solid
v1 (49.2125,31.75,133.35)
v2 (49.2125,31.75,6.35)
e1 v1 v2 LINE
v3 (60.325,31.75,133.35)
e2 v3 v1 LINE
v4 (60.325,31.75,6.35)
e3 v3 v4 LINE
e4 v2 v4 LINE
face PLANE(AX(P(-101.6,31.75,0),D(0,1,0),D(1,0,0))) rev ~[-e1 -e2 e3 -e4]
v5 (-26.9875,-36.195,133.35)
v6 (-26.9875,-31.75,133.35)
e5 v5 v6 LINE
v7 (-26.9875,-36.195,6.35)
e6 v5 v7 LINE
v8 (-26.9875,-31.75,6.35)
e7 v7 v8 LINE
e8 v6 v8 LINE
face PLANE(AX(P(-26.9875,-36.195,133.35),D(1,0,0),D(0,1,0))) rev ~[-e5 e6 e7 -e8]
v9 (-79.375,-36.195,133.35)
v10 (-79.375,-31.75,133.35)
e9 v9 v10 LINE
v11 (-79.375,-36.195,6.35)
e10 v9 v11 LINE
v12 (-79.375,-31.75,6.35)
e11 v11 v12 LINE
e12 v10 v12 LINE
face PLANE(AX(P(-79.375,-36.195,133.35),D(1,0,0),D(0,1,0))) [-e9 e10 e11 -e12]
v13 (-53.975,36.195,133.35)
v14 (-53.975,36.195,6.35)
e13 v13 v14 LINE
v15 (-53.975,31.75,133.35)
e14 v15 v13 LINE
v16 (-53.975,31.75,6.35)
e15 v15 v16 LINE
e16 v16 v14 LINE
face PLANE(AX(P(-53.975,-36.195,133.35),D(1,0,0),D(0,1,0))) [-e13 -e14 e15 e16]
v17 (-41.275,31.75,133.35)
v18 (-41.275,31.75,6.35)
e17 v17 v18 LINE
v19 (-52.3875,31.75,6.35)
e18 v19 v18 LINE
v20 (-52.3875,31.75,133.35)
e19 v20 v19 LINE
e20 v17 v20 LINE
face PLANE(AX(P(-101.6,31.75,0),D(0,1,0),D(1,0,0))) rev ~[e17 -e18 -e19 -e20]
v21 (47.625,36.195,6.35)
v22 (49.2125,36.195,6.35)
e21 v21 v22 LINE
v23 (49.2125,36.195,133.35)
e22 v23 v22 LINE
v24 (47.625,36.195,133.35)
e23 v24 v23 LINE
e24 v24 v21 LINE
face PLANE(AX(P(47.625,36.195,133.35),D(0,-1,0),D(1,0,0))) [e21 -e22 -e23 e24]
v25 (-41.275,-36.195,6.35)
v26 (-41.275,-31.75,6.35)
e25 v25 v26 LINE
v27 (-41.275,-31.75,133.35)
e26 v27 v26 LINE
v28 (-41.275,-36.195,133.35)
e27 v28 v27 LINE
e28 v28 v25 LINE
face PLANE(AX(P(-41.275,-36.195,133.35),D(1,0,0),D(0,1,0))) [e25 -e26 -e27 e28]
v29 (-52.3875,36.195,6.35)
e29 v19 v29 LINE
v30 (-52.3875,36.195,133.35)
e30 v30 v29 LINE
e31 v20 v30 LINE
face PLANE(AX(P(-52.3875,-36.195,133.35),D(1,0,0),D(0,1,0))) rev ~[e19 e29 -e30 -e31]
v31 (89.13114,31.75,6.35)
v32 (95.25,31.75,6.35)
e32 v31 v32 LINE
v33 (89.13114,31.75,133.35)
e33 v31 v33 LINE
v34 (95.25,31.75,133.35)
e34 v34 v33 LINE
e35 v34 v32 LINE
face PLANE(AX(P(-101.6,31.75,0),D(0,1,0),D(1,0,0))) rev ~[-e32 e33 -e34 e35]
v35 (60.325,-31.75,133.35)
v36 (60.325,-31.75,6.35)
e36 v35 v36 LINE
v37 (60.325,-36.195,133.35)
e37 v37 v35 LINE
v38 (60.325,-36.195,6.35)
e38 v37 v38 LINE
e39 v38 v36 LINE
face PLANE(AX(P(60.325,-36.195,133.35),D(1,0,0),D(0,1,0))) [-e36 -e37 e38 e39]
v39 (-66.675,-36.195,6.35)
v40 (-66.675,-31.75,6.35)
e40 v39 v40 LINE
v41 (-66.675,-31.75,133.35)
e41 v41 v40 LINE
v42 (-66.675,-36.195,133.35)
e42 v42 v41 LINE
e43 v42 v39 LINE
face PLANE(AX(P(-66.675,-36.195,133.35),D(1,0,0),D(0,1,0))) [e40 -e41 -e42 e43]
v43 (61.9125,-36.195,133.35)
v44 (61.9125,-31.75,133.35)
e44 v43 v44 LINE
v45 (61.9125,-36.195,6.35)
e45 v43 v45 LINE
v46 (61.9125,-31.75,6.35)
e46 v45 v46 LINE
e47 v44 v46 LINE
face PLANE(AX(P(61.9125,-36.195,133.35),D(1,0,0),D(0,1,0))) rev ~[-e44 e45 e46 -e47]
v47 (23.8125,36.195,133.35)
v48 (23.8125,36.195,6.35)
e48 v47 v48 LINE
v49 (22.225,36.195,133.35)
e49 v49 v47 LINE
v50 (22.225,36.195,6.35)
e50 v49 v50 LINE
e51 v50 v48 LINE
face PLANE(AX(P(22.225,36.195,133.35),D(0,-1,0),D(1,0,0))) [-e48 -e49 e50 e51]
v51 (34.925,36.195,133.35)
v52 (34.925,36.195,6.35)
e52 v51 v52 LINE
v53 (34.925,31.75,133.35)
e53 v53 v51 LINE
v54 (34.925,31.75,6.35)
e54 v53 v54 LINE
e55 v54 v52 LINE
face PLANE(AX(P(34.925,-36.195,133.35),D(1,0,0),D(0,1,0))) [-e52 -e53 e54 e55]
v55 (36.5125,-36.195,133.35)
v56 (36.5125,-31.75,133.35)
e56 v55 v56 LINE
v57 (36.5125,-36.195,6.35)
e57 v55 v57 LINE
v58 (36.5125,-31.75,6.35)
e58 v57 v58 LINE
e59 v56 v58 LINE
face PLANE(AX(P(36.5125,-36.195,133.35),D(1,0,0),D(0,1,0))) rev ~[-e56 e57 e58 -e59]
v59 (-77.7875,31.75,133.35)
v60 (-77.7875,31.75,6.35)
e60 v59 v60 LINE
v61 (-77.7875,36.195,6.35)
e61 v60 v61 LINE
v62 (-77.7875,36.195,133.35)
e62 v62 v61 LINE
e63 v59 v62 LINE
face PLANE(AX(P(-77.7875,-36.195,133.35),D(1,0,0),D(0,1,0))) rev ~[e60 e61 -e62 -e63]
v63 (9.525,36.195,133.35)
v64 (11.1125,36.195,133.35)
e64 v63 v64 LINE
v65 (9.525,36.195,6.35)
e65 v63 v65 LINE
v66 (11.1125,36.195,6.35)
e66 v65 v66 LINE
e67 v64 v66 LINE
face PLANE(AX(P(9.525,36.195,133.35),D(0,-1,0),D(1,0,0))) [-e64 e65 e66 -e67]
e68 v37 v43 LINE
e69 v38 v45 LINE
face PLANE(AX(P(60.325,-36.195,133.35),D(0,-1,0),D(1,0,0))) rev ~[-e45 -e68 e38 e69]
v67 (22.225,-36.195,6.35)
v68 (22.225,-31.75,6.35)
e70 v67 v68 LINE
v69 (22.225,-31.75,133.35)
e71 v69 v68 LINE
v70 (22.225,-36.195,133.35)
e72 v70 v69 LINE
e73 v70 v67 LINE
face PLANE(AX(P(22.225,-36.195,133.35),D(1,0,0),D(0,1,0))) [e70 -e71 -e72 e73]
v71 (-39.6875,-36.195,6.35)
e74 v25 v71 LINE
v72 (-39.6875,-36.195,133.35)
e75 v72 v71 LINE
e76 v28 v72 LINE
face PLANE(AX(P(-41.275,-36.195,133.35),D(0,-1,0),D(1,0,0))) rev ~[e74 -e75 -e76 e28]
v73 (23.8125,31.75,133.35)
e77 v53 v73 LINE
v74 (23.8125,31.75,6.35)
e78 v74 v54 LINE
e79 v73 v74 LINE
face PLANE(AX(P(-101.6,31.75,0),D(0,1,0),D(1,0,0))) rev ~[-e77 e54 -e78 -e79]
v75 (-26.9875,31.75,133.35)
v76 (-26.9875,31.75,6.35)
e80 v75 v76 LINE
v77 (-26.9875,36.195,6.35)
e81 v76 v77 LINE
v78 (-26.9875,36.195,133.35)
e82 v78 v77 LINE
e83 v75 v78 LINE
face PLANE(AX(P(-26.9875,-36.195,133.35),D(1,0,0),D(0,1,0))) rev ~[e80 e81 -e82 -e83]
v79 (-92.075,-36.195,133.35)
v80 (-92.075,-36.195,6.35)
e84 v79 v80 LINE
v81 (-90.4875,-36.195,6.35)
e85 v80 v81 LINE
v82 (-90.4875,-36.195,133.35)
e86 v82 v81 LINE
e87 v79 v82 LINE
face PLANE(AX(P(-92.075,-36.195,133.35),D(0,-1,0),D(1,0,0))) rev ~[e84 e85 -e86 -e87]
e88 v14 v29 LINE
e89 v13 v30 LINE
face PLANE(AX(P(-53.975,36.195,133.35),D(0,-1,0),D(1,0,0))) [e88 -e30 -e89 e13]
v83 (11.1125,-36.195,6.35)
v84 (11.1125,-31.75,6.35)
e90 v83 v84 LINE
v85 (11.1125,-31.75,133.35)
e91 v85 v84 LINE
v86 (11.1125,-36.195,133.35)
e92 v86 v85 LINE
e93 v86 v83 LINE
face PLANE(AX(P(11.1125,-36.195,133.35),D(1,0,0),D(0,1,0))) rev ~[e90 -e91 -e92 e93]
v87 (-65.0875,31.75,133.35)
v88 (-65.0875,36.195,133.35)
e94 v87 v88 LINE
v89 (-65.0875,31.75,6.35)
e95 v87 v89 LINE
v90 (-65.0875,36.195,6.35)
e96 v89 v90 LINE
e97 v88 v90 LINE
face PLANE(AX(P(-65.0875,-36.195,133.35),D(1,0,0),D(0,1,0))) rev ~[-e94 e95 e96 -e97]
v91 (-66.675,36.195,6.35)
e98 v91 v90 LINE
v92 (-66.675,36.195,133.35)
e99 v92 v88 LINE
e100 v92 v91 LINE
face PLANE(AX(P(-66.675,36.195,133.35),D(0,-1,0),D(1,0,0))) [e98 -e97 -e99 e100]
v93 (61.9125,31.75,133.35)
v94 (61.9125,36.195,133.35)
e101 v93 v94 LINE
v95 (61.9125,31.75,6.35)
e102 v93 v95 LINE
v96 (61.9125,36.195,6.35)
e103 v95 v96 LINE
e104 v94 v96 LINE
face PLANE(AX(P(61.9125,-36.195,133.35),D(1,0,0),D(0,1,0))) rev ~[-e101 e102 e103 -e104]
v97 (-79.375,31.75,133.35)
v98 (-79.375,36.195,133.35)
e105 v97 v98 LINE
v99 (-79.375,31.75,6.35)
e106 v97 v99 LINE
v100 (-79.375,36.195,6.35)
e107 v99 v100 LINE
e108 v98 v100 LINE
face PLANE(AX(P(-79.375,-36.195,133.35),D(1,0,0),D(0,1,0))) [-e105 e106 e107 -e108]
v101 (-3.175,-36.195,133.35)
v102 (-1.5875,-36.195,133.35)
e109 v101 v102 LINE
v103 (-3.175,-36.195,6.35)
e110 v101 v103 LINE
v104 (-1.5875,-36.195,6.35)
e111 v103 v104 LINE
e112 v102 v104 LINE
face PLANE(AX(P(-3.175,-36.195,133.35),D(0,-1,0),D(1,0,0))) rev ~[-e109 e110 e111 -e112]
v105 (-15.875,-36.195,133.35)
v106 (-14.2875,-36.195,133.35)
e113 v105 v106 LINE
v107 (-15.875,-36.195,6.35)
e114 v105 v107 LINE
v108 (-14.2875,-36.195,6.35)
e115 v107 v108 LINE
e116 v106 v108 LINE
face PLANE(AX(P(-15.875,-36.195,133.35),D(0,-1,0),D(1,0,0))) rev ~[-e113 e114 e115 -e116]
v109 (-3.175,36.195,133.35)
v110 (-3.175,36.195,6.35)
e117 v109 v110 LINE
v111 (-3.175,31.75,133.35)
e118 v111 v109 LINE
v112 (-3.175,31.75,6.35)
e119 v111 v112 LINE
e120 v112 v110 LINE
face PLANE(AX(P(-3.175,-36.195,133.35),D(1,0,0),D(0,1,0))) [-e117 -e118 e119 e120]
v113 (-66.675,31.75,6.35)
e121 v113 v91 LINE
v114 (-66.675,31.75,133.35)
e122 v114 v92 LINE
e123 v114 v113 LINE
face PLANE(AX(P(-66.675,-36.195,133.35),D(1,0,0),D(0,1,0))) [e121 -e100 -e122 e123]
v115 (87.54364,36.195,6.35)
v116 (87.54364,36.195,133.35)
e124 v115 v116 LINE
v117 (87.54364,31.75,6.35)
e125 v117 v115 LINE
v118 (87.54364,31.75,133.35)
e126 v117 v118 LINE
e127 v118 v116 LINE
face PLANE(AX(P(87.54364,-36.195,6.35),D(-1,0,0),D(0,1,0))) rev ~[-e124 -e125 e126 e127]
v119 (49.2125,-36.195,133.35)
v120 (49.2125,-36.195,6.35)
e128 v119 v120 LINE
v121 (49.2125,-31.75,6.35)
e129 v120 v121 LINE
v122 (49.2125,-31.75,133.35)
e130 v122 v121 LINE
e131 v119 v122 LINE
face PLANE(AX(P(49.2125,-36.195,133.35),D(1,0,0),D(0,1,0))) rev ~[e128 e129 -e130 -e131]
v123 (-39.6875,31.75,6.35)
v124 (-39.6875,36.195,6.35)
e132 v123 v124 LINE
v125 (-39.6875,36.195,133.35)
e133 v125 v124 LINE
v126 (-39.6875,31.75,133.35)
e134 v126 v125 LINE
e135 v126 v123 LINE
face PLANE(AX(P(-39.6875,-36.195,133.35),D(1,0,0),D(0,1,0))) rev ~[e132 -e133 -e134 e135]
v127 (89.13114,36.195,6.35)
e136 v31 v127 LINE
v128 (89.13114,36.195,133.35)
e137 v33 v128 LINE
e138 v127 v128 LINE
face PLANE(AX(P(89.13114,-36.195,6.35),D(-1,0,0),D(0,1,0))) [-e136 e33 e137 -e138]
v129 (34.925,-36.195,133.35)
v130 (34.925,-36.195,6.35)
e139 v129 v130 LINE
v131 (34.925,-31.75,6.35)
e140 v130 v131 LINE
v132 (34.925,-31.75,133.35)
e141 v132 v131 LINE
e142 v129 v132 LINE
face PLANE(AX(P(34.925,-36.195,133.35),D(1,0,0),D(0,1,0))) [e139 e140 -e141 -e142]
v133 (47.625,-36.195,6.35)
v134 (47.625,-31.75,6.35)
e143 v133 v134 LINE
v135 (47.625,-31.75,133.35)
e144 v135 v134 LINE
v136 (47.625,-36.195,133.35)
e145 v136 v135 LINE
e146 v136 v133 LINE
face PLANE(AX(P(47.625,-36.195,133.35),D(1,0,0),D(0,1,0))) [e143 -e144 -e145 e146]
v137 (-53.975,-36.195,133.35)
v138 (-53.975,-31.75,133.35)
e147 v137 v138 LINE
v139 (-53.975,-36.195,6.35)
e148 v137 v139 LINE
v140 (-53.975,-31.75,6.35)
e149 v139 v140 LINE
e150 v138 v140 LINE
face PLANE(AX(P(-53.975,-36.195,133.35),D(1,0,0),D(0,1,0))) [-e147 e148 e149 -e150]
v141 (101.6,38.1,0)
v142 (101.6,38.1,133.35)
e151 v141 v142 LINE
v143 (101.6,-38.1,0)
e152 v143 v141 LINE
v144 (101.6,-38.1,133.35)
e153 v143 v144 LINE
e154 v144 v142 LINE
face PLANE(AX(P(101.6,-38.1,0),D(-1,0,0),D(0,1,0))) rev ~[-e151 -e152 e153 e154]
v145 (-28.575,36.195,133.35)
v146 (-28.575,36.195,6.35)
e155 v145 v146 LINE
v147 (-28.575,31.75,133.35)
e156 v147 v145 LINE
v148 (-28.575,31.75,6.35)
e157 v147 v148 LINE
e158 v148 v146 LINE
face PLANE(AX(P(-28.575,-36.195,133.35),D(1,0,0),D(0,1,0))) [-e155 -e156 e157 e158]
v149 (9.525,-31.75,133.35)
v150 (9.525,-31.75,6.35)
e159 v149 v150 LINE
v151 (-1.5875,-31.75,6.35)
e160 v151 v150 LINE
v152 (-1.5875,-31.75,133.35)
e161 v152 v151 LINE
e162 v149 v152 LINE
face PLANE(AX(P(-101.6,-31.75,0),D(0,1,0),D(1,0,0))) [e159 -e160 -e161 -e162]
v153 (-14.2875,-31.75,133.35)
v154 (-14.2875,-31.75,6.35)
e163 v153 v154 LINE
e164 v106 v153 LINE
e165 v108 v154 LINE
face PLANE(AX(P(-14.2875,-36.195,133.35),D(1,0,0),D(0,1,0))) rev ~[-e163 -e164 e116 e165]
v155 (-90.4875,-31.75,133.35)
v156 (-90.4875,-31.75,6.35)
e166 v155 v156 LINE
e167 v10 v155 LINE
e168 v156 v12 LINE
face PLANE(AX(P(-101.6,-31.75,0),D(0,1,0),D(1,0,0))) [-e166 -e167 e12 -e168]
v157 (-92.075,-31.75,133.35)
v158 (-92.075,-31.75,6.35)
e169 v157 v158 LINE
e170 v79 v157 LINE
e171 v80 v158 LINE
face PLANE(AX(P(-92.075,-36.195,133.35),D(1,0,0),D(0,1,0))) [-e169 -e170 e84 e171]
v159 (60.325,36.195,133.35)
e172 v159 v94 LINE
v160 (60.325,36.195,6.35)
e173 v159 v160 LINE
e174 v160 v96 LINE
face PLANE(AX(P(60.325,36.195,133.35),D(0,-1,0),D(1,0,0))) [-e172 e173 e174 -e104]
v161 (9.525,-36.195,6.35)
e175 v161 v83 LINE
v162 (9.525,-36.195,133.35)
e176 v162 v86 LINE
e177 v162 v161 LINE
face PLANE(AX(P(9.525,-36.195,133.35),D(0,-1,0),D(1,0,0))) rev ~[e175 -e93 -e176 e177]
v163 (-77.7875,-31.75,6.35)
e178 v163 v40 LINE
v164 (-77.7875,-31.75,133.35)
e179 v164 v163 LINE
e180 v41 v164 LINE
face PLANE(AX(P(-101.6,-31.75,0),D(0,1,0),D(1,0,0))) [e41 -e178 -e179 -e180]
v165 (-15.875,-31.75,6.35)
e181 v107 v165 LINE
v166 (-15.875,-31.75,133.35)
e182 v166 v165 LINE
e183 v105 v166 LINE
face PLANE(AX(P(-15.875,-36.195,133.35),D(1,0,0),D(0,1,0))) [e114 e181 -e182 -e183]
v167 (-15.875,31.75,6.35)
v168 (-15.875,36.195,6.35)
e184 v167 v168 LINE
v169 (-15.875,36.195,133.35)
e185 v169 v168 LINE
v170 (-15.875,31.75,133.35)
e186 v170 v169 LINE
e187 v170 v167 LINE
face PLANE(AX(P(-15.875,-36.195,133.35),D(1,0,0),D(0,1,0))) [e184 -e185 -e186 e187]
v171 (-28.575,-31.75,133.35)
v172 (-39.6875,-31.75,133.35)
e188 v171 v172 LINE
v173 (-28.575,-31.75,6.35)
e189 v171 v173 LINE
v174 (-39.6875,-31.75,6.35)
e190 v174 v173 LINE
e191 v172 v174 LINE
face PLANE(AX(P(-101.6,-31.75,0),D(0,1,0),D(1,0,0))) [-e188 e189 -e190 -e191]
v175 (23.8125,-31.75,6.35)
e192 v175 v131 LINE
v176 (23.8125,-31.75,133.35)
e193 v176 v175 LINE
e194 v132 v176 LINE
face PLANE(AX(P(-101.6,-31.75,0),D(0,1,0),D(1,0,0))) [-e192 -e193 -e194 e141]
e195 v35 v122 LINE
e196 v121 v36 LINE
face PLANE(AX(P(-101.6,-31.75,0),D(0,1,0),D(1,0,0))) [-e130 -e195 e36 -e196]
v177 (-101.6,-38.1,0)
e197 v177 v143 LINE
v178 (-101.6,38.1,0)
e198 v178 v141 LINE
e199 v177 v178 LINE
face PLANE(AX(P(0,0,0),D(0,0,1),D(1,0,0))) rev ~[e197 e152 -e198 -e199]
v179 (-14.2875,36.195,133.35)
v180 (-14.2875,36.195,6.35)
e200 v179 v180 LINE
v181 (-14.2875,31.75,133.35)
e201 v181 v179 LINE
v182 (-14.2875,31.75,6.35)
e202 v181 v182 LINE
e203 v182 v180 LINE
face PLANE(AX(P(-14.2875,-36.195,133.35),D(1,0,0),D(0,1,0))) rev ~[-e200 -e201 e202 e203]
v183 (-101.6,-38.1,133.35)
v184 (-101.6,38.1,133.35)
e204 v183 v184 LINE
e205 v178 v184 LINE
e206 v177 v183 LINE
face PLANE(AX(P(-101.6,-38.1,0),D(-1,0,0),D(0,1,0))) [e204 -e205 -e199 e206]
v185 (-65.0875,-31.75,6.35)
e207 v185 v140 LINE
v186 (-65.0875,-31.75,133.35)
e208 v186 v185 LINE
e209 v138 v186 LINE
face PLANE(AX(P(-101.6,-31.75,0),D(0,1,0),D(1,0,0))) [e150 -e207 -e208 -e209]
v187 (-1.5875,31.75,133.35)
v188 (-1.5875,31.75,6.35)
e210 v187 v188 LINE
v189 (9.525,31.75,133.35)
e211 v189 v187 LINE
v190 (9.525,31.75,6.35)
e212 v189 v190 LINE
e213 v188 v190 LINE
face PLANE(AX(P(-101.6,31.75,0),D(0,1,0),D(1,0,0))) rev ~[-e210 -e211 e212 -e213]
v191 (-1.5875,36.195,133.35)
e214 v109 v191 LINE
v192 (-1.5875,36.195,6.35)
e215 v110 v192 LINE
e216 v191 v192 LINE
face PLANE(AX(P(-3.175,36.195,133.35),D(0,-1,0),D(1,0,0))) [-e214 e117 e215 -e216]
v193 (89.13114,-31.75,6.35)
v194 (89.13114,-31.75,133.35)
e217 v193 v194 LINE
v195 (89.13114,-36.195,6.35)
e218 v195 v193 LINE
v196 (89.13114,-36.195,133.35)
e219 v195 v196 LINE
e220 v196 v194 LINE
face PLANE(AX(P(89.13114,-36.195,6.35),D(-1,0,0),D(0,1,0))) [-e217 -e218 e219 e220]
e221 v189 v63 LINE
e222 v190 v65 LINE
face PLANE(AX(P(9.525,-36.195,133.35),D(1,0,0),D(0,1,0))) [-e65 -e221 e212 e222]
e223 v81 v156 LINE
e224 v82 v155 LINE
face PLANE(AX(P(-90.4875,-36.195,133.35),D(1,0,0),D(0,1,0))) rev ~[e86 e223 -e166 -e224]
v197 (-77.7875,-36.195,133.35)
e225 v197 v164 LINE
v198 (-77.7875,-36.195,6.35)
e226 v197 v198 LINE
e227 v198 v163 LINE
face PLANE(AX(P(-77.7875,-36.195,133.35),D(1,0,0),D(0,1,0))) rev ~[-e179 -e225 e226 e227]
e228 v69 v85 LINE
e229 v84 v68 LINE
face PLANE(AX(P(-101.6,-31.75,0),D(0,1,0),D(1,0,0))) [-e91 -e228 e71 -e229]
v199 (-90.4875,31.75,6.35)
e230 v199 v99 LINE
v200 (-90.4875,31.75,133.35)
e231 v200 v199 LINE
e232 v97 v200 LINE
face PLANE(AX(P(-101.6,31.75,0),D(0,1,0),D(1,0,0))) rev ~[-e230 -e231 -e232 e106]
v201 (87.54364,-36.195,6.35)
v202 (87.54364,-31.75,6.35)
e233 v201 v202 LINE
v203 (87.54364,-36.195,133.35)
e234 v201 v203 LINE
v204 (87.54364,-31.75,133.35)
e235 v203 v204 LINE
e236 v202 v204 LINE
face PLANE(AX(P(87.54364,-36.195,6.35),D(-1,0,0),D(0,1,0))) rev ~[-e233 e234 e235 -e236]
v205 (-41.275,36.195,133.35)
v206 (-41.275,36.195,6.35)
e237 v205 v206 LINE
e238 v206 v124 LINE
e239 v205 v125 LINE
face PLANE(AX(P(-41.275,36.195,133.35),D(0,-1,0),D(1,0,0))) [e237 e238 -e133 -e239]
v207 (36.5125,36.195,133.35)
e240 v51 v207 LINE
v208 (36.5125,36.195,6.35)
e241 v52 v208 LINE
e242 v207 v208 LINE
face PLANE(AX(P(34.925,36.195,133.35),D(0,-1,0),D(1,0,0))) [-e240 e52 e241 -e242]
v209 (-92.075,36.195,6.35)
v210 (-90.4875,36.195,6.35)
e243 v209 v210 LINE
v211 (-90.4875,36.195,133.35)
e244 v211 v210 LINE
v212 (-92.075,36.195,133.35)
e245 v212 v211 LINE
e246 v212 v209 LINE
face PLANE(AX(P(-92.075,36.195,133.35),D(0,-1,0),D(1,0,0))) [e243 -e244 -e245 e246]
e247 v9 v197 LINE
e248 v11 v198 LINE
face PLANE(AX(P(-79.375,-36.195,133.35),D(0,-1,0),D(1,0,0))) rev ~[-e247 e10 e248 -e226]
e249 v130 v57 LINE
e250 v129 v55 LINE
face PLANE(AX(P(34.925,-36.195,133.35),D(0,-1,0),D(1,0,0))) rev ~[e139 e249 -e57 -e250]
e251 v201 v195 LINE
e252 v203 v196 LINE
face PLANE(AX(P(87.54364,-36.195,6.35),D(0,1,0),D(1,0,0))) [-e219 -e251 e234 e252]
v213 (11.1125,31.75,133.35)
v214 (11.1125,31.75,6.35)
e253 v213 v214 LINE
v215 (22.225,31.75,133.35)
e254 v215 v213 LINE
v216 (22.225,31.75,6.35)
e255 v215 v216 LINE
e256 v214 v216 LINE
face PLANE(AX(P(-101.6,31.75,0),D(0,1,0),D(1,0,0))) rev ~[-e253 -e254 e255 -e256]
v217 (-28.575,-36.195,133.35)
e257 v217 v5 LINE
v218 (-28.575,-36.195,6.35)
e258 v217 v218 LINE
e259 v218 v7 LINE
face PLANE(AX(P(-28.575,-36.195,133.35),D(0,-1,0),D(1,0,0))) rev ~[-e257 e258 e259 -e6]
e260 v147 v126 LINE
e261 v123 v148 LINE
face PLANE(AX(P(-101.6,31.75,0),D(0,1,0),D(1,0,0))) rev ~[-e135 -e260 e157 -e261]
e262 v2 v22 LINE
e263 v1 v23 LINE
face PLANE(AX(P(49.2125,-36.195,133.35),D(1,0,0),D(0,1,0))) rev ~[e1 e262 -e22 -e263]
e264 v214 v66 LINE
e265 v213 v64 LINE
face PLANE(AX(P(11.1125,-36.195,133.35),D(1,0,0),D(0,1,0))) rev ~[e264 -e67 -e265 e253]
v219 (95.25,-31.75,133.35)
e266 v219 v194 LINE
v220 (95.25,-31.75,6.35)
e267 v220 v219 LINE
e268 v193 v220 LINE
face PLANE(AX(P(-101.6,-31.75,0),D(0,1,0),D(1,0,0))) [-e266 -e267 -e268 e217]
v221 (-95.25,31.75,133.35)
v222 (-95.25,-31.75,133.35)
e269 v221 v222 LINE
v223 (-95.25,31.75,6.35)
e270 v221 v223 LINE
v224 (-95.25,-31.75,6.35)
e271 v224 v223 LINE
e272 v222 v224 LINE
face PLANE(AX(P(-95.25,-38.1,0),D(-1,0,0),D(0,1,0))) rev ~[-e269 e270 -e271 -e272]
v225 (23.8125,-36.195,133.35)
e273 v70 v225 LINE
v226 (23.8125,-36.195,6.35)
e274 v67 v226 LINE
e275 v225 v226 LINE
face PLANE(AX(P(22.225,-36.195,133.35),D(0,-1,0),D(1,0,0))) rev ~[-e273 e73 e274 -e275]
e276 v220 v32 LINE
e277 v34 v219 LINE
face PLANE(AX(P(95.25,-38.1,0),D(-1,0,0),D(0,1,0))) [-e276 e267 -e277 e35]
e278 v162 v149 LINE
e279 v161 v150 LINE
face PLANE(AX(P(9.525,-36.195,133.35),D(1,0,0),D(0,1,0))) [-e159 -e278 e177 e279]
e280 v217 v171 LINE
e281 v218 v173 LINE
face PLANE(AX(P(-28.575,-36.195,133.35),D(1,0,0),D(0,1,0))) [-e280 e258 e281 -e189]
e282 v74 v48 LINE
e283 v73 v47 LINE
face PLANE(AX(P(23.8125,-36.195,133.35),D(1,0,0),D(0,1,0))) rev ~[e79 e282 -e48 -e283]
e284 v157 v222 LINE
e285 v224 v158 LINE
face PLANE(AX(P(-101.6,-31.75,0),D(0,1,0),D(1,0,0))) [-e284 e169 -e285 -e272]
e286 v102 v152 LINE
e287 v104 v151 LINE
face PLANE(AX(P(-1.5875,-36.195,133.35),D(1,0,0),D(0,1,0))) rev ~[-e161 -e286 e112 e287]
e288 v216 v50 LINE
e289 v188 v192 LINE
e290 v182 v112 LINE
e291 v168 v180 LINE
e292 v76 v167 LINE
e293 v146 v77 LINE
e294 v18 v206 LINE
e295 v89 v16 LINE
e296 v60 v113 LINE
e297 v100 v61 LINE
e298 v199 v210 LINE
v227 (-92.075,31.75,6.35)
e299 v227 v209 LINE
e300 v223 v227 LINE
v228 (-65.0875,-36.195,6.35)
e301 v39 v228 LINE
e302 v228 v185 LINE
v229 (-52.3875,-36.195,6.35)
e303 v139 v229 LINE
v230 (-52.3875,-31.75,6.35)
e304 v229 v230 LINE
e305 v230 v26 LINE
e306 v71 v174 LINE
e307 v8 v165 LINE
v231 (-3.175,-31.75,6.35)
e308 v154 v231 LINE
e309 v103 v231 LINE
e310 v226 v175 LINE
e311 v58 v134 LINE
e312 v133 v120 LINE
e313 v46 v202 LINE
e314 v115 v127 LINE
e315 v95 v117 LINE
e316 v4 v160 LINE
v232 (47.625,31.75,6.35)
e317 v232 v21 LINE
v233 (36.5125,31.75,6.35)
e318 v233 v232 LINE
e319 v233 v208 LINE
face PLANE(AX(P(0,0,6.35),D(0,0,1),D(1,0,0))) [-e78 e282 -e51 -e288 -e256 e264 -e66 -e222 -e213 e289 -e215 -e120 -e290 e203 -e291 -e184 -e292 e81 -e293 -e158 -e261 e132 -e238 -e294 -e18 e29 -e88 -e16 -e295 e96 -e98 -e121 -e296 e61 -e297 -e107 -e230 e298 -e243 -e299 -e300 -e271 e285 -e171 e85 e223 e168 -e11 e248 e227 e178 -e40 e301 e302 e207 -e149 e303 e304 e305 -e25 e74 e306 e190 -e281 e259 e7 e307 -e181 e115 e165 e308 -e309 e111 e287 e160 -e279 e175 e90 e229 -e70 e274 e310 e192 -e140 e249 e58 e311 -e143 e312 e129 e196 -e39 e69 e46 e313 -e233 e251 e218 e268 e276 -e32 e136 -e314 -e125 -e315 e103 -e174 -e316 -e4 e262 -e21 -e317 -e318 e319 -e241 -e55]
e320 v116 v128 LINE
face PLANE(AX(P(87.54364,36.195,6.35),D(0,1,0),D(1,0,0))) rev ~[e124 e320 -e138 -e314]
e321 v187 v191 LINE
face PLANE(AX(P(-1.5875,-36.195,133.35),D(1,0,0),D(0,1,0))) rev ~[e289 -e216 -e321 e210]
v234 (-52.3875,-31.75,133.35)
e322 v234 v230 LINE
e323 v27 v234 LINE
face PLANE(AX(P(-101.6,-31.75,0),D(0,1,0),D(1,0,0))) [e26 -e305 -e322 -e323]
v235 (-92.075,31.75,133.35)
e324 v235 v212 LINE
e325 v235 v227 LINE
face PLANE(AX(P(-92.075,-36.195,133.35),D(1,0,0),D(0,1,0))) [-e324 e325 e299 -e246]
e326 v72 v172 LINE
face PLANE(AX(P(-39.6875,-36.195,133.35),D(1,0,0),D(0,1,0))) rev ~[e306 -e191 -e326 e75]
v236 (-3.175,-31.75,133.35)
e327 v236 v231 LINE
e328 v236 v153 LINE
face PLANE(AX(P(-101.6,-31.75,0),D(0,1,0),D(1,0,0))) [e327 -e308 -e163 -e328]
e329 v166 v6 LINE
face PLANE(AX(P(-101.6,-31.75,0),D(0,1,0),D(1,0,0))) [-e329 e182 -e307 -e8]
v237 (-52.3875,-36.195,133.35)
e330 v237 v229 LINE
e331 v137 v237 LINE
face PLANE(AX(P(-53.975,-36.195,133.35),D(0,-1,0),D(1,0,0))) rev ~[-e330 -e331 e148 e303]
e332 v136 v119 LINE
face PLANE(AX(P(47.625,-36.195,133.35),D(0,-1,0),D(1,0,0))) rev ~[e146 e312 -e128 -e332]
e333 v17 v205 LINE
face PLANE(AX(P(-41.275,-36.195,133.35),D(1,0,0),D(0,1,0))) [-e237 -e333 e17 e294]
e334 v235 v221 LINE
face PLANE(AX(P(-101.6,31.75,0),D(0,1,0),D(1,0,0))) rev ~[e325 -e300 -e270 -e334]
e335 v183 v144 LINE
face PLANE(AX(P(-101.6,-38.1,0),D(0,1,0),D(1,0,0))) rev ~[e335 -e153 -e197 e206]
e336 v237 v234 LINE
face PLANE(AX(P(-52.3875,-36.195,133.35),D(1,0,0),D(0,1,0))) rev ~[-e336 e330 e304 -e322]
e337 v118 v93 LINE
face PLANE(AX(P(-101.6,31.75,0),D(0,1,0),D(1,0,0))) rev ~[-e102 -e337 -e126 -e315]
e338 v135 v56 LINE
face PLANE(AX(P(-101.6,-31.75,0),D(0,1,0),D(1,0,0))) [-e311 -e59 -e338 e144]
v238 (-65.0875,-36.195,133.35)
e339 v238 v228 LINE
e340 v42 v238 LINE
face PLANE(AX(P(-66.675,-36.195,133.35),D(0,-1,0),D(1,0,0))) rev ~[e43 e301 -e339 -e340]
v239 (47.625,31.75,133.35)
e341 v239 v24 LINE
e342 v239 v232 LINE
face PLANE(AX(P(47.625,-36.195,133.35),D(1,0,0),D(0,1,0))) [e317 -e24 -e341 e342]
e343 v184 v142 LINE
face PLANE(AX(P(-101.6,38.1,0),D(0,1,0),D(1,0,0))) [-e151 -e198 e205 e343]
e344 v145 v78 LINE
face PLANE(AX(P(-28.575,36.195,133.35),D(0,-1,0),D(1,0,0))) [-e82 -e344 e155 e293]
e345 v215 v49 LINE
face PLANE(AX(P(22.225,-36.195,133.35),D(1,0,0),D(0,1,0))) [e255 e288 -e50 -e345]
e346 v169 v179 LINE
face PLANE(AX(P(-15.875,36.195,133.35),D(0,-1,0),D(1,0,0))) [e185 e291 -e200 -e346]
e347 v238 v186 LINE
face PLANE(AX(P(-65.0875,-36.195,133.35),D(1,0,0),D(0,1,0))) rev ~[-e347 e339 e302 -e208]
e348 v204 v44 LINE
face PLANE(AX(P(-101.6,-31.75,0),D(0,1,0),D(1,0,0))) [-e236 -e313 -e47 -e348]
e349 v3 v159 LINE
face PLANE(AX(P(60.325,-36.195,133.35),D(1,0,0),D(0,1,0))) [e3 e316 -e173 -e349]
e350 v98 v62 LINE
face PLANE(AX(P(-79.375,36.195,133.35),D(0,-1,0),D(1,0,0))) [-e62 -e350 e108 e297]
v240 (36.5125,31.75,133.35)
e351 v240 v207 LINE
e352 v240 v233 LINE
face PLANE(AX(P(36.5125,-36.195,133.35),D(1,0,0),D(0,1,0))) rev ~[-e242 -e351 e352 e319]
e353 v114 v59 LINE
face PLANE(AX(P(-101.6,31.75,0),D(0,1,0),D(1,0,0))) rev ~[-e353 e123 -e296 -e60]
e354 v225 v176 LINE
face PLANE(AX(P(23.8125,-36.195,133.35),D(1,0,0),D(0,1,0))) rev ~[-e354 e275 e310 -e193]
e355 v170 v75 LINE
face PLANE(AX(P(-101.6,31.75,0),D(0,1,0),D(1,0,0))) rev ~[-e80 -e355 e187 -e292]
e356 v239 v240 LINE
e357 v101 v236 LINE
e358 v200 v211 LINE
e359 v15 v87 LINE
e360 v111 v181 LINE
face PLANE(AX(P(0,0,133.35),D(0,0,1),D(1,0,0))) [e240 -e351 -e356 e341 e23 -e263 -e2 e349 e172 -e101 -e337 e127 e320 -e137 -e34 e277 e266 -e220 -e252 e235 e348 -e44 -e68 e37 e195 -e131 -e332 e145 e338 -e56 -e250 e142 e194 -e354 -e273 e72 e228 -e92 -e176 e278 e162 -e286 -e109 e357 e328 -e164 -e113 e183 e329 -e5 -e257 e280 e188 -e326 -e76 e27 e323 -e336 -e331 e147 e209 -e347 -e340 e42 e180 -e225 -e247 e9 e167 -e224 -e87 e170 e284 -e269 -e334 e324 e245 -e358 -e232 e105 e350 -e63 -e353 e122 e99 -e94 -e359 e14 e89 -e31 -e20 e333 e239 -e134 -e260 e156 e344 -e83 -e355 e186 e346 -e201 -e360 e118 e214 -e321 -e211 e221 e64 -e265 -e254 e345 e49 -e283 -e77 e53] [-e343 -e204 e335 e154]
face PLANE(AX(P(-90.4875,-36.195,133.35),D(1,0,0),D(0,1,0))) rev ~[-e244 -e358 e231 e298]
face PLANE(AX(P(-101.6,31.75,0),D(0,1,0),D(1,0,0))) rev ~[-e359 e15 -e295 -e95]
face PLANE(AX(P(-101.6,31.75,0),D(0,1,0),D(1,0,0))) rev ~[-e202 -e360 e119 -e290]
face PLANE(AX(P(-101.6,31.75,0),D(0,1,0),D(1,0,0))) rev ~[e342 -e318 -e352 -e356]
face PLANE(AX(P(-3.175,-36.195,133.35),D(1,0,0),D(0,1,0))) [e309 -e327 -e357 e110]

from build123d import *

# Parameters (mm, degrees)
SKETCH1_W           = 203.2
SKETCH1_H           = 76.2
BOSS_EXTRUDE1_DEPTH = 133.35
SHELL1_T            = -6.35
SKETCH2_W           = 1.5875
SKETCH2_H           = 72.39
CUT_EXTRUDE1_DEPTH  = 127
LPATTERN1_COUNT     = 13
LPATTERN1_PITCH     = 12.7
CUT_EXTRUDE2_START  = -127
SKETCH3_W           = 1.5875
SKETCH3_H           = 72.39
CUT_EXTRUDE2_DEPTH  = 127


with BuildPart() as part:
    # Sketch1 → Boss-Extrude1 (new body)
    with BuildSketch(Plane.XY):
        Rectangle(SKETCH1_W, SKETCH1_H)
    extrude(amount=BOSS_EXTRUDE1_DEPTH)

    # Shell1
    shell1_openings = [part.faces().sort_by_distance(p)[0] for p in [
        (0, 0, 133.35),
    ]]
    offset(amount=SHELL1_T, openings=shell1_openings, kind=Kind.INTERSECTION)

    # Sketch2 → Cut-Extrude1 (cut)
    with BuildSketch(Plane.XY.offset(133.35)):
        with Locations((-91.28125, 0)):
            Rectangle(SKETCH2_W, SKETCH2_H)
    cut_extrude1 = extrude(amount=-CUT_EXTRUDE1_DEPTH, mode=Mode.SUBTRACT)

    # LPattern1: Cut-Extrude1 ×13
    with Locations(*[(i * LPATTERN1_PITCH, 0, 0) for i in range(1, LPATTERN1_COUNT)]):
        add(cut_extrude1, mode=Mode.SUBTRACT)

    # Sketch3 → Cut-Extrude2 (cut)
    with BuildSketch(Plane.XY.offset(133.35).offset(CUT_EXTRUDE2_START)):
        with Locations((88.33739, 0)):
            Rectangle(SKETCH3_W, SKETCH3_H)
    extrude(amount=CUT_EXTRUDE2_DEPTH, mode=Mode.SUBTRACT)


solid = part.part
